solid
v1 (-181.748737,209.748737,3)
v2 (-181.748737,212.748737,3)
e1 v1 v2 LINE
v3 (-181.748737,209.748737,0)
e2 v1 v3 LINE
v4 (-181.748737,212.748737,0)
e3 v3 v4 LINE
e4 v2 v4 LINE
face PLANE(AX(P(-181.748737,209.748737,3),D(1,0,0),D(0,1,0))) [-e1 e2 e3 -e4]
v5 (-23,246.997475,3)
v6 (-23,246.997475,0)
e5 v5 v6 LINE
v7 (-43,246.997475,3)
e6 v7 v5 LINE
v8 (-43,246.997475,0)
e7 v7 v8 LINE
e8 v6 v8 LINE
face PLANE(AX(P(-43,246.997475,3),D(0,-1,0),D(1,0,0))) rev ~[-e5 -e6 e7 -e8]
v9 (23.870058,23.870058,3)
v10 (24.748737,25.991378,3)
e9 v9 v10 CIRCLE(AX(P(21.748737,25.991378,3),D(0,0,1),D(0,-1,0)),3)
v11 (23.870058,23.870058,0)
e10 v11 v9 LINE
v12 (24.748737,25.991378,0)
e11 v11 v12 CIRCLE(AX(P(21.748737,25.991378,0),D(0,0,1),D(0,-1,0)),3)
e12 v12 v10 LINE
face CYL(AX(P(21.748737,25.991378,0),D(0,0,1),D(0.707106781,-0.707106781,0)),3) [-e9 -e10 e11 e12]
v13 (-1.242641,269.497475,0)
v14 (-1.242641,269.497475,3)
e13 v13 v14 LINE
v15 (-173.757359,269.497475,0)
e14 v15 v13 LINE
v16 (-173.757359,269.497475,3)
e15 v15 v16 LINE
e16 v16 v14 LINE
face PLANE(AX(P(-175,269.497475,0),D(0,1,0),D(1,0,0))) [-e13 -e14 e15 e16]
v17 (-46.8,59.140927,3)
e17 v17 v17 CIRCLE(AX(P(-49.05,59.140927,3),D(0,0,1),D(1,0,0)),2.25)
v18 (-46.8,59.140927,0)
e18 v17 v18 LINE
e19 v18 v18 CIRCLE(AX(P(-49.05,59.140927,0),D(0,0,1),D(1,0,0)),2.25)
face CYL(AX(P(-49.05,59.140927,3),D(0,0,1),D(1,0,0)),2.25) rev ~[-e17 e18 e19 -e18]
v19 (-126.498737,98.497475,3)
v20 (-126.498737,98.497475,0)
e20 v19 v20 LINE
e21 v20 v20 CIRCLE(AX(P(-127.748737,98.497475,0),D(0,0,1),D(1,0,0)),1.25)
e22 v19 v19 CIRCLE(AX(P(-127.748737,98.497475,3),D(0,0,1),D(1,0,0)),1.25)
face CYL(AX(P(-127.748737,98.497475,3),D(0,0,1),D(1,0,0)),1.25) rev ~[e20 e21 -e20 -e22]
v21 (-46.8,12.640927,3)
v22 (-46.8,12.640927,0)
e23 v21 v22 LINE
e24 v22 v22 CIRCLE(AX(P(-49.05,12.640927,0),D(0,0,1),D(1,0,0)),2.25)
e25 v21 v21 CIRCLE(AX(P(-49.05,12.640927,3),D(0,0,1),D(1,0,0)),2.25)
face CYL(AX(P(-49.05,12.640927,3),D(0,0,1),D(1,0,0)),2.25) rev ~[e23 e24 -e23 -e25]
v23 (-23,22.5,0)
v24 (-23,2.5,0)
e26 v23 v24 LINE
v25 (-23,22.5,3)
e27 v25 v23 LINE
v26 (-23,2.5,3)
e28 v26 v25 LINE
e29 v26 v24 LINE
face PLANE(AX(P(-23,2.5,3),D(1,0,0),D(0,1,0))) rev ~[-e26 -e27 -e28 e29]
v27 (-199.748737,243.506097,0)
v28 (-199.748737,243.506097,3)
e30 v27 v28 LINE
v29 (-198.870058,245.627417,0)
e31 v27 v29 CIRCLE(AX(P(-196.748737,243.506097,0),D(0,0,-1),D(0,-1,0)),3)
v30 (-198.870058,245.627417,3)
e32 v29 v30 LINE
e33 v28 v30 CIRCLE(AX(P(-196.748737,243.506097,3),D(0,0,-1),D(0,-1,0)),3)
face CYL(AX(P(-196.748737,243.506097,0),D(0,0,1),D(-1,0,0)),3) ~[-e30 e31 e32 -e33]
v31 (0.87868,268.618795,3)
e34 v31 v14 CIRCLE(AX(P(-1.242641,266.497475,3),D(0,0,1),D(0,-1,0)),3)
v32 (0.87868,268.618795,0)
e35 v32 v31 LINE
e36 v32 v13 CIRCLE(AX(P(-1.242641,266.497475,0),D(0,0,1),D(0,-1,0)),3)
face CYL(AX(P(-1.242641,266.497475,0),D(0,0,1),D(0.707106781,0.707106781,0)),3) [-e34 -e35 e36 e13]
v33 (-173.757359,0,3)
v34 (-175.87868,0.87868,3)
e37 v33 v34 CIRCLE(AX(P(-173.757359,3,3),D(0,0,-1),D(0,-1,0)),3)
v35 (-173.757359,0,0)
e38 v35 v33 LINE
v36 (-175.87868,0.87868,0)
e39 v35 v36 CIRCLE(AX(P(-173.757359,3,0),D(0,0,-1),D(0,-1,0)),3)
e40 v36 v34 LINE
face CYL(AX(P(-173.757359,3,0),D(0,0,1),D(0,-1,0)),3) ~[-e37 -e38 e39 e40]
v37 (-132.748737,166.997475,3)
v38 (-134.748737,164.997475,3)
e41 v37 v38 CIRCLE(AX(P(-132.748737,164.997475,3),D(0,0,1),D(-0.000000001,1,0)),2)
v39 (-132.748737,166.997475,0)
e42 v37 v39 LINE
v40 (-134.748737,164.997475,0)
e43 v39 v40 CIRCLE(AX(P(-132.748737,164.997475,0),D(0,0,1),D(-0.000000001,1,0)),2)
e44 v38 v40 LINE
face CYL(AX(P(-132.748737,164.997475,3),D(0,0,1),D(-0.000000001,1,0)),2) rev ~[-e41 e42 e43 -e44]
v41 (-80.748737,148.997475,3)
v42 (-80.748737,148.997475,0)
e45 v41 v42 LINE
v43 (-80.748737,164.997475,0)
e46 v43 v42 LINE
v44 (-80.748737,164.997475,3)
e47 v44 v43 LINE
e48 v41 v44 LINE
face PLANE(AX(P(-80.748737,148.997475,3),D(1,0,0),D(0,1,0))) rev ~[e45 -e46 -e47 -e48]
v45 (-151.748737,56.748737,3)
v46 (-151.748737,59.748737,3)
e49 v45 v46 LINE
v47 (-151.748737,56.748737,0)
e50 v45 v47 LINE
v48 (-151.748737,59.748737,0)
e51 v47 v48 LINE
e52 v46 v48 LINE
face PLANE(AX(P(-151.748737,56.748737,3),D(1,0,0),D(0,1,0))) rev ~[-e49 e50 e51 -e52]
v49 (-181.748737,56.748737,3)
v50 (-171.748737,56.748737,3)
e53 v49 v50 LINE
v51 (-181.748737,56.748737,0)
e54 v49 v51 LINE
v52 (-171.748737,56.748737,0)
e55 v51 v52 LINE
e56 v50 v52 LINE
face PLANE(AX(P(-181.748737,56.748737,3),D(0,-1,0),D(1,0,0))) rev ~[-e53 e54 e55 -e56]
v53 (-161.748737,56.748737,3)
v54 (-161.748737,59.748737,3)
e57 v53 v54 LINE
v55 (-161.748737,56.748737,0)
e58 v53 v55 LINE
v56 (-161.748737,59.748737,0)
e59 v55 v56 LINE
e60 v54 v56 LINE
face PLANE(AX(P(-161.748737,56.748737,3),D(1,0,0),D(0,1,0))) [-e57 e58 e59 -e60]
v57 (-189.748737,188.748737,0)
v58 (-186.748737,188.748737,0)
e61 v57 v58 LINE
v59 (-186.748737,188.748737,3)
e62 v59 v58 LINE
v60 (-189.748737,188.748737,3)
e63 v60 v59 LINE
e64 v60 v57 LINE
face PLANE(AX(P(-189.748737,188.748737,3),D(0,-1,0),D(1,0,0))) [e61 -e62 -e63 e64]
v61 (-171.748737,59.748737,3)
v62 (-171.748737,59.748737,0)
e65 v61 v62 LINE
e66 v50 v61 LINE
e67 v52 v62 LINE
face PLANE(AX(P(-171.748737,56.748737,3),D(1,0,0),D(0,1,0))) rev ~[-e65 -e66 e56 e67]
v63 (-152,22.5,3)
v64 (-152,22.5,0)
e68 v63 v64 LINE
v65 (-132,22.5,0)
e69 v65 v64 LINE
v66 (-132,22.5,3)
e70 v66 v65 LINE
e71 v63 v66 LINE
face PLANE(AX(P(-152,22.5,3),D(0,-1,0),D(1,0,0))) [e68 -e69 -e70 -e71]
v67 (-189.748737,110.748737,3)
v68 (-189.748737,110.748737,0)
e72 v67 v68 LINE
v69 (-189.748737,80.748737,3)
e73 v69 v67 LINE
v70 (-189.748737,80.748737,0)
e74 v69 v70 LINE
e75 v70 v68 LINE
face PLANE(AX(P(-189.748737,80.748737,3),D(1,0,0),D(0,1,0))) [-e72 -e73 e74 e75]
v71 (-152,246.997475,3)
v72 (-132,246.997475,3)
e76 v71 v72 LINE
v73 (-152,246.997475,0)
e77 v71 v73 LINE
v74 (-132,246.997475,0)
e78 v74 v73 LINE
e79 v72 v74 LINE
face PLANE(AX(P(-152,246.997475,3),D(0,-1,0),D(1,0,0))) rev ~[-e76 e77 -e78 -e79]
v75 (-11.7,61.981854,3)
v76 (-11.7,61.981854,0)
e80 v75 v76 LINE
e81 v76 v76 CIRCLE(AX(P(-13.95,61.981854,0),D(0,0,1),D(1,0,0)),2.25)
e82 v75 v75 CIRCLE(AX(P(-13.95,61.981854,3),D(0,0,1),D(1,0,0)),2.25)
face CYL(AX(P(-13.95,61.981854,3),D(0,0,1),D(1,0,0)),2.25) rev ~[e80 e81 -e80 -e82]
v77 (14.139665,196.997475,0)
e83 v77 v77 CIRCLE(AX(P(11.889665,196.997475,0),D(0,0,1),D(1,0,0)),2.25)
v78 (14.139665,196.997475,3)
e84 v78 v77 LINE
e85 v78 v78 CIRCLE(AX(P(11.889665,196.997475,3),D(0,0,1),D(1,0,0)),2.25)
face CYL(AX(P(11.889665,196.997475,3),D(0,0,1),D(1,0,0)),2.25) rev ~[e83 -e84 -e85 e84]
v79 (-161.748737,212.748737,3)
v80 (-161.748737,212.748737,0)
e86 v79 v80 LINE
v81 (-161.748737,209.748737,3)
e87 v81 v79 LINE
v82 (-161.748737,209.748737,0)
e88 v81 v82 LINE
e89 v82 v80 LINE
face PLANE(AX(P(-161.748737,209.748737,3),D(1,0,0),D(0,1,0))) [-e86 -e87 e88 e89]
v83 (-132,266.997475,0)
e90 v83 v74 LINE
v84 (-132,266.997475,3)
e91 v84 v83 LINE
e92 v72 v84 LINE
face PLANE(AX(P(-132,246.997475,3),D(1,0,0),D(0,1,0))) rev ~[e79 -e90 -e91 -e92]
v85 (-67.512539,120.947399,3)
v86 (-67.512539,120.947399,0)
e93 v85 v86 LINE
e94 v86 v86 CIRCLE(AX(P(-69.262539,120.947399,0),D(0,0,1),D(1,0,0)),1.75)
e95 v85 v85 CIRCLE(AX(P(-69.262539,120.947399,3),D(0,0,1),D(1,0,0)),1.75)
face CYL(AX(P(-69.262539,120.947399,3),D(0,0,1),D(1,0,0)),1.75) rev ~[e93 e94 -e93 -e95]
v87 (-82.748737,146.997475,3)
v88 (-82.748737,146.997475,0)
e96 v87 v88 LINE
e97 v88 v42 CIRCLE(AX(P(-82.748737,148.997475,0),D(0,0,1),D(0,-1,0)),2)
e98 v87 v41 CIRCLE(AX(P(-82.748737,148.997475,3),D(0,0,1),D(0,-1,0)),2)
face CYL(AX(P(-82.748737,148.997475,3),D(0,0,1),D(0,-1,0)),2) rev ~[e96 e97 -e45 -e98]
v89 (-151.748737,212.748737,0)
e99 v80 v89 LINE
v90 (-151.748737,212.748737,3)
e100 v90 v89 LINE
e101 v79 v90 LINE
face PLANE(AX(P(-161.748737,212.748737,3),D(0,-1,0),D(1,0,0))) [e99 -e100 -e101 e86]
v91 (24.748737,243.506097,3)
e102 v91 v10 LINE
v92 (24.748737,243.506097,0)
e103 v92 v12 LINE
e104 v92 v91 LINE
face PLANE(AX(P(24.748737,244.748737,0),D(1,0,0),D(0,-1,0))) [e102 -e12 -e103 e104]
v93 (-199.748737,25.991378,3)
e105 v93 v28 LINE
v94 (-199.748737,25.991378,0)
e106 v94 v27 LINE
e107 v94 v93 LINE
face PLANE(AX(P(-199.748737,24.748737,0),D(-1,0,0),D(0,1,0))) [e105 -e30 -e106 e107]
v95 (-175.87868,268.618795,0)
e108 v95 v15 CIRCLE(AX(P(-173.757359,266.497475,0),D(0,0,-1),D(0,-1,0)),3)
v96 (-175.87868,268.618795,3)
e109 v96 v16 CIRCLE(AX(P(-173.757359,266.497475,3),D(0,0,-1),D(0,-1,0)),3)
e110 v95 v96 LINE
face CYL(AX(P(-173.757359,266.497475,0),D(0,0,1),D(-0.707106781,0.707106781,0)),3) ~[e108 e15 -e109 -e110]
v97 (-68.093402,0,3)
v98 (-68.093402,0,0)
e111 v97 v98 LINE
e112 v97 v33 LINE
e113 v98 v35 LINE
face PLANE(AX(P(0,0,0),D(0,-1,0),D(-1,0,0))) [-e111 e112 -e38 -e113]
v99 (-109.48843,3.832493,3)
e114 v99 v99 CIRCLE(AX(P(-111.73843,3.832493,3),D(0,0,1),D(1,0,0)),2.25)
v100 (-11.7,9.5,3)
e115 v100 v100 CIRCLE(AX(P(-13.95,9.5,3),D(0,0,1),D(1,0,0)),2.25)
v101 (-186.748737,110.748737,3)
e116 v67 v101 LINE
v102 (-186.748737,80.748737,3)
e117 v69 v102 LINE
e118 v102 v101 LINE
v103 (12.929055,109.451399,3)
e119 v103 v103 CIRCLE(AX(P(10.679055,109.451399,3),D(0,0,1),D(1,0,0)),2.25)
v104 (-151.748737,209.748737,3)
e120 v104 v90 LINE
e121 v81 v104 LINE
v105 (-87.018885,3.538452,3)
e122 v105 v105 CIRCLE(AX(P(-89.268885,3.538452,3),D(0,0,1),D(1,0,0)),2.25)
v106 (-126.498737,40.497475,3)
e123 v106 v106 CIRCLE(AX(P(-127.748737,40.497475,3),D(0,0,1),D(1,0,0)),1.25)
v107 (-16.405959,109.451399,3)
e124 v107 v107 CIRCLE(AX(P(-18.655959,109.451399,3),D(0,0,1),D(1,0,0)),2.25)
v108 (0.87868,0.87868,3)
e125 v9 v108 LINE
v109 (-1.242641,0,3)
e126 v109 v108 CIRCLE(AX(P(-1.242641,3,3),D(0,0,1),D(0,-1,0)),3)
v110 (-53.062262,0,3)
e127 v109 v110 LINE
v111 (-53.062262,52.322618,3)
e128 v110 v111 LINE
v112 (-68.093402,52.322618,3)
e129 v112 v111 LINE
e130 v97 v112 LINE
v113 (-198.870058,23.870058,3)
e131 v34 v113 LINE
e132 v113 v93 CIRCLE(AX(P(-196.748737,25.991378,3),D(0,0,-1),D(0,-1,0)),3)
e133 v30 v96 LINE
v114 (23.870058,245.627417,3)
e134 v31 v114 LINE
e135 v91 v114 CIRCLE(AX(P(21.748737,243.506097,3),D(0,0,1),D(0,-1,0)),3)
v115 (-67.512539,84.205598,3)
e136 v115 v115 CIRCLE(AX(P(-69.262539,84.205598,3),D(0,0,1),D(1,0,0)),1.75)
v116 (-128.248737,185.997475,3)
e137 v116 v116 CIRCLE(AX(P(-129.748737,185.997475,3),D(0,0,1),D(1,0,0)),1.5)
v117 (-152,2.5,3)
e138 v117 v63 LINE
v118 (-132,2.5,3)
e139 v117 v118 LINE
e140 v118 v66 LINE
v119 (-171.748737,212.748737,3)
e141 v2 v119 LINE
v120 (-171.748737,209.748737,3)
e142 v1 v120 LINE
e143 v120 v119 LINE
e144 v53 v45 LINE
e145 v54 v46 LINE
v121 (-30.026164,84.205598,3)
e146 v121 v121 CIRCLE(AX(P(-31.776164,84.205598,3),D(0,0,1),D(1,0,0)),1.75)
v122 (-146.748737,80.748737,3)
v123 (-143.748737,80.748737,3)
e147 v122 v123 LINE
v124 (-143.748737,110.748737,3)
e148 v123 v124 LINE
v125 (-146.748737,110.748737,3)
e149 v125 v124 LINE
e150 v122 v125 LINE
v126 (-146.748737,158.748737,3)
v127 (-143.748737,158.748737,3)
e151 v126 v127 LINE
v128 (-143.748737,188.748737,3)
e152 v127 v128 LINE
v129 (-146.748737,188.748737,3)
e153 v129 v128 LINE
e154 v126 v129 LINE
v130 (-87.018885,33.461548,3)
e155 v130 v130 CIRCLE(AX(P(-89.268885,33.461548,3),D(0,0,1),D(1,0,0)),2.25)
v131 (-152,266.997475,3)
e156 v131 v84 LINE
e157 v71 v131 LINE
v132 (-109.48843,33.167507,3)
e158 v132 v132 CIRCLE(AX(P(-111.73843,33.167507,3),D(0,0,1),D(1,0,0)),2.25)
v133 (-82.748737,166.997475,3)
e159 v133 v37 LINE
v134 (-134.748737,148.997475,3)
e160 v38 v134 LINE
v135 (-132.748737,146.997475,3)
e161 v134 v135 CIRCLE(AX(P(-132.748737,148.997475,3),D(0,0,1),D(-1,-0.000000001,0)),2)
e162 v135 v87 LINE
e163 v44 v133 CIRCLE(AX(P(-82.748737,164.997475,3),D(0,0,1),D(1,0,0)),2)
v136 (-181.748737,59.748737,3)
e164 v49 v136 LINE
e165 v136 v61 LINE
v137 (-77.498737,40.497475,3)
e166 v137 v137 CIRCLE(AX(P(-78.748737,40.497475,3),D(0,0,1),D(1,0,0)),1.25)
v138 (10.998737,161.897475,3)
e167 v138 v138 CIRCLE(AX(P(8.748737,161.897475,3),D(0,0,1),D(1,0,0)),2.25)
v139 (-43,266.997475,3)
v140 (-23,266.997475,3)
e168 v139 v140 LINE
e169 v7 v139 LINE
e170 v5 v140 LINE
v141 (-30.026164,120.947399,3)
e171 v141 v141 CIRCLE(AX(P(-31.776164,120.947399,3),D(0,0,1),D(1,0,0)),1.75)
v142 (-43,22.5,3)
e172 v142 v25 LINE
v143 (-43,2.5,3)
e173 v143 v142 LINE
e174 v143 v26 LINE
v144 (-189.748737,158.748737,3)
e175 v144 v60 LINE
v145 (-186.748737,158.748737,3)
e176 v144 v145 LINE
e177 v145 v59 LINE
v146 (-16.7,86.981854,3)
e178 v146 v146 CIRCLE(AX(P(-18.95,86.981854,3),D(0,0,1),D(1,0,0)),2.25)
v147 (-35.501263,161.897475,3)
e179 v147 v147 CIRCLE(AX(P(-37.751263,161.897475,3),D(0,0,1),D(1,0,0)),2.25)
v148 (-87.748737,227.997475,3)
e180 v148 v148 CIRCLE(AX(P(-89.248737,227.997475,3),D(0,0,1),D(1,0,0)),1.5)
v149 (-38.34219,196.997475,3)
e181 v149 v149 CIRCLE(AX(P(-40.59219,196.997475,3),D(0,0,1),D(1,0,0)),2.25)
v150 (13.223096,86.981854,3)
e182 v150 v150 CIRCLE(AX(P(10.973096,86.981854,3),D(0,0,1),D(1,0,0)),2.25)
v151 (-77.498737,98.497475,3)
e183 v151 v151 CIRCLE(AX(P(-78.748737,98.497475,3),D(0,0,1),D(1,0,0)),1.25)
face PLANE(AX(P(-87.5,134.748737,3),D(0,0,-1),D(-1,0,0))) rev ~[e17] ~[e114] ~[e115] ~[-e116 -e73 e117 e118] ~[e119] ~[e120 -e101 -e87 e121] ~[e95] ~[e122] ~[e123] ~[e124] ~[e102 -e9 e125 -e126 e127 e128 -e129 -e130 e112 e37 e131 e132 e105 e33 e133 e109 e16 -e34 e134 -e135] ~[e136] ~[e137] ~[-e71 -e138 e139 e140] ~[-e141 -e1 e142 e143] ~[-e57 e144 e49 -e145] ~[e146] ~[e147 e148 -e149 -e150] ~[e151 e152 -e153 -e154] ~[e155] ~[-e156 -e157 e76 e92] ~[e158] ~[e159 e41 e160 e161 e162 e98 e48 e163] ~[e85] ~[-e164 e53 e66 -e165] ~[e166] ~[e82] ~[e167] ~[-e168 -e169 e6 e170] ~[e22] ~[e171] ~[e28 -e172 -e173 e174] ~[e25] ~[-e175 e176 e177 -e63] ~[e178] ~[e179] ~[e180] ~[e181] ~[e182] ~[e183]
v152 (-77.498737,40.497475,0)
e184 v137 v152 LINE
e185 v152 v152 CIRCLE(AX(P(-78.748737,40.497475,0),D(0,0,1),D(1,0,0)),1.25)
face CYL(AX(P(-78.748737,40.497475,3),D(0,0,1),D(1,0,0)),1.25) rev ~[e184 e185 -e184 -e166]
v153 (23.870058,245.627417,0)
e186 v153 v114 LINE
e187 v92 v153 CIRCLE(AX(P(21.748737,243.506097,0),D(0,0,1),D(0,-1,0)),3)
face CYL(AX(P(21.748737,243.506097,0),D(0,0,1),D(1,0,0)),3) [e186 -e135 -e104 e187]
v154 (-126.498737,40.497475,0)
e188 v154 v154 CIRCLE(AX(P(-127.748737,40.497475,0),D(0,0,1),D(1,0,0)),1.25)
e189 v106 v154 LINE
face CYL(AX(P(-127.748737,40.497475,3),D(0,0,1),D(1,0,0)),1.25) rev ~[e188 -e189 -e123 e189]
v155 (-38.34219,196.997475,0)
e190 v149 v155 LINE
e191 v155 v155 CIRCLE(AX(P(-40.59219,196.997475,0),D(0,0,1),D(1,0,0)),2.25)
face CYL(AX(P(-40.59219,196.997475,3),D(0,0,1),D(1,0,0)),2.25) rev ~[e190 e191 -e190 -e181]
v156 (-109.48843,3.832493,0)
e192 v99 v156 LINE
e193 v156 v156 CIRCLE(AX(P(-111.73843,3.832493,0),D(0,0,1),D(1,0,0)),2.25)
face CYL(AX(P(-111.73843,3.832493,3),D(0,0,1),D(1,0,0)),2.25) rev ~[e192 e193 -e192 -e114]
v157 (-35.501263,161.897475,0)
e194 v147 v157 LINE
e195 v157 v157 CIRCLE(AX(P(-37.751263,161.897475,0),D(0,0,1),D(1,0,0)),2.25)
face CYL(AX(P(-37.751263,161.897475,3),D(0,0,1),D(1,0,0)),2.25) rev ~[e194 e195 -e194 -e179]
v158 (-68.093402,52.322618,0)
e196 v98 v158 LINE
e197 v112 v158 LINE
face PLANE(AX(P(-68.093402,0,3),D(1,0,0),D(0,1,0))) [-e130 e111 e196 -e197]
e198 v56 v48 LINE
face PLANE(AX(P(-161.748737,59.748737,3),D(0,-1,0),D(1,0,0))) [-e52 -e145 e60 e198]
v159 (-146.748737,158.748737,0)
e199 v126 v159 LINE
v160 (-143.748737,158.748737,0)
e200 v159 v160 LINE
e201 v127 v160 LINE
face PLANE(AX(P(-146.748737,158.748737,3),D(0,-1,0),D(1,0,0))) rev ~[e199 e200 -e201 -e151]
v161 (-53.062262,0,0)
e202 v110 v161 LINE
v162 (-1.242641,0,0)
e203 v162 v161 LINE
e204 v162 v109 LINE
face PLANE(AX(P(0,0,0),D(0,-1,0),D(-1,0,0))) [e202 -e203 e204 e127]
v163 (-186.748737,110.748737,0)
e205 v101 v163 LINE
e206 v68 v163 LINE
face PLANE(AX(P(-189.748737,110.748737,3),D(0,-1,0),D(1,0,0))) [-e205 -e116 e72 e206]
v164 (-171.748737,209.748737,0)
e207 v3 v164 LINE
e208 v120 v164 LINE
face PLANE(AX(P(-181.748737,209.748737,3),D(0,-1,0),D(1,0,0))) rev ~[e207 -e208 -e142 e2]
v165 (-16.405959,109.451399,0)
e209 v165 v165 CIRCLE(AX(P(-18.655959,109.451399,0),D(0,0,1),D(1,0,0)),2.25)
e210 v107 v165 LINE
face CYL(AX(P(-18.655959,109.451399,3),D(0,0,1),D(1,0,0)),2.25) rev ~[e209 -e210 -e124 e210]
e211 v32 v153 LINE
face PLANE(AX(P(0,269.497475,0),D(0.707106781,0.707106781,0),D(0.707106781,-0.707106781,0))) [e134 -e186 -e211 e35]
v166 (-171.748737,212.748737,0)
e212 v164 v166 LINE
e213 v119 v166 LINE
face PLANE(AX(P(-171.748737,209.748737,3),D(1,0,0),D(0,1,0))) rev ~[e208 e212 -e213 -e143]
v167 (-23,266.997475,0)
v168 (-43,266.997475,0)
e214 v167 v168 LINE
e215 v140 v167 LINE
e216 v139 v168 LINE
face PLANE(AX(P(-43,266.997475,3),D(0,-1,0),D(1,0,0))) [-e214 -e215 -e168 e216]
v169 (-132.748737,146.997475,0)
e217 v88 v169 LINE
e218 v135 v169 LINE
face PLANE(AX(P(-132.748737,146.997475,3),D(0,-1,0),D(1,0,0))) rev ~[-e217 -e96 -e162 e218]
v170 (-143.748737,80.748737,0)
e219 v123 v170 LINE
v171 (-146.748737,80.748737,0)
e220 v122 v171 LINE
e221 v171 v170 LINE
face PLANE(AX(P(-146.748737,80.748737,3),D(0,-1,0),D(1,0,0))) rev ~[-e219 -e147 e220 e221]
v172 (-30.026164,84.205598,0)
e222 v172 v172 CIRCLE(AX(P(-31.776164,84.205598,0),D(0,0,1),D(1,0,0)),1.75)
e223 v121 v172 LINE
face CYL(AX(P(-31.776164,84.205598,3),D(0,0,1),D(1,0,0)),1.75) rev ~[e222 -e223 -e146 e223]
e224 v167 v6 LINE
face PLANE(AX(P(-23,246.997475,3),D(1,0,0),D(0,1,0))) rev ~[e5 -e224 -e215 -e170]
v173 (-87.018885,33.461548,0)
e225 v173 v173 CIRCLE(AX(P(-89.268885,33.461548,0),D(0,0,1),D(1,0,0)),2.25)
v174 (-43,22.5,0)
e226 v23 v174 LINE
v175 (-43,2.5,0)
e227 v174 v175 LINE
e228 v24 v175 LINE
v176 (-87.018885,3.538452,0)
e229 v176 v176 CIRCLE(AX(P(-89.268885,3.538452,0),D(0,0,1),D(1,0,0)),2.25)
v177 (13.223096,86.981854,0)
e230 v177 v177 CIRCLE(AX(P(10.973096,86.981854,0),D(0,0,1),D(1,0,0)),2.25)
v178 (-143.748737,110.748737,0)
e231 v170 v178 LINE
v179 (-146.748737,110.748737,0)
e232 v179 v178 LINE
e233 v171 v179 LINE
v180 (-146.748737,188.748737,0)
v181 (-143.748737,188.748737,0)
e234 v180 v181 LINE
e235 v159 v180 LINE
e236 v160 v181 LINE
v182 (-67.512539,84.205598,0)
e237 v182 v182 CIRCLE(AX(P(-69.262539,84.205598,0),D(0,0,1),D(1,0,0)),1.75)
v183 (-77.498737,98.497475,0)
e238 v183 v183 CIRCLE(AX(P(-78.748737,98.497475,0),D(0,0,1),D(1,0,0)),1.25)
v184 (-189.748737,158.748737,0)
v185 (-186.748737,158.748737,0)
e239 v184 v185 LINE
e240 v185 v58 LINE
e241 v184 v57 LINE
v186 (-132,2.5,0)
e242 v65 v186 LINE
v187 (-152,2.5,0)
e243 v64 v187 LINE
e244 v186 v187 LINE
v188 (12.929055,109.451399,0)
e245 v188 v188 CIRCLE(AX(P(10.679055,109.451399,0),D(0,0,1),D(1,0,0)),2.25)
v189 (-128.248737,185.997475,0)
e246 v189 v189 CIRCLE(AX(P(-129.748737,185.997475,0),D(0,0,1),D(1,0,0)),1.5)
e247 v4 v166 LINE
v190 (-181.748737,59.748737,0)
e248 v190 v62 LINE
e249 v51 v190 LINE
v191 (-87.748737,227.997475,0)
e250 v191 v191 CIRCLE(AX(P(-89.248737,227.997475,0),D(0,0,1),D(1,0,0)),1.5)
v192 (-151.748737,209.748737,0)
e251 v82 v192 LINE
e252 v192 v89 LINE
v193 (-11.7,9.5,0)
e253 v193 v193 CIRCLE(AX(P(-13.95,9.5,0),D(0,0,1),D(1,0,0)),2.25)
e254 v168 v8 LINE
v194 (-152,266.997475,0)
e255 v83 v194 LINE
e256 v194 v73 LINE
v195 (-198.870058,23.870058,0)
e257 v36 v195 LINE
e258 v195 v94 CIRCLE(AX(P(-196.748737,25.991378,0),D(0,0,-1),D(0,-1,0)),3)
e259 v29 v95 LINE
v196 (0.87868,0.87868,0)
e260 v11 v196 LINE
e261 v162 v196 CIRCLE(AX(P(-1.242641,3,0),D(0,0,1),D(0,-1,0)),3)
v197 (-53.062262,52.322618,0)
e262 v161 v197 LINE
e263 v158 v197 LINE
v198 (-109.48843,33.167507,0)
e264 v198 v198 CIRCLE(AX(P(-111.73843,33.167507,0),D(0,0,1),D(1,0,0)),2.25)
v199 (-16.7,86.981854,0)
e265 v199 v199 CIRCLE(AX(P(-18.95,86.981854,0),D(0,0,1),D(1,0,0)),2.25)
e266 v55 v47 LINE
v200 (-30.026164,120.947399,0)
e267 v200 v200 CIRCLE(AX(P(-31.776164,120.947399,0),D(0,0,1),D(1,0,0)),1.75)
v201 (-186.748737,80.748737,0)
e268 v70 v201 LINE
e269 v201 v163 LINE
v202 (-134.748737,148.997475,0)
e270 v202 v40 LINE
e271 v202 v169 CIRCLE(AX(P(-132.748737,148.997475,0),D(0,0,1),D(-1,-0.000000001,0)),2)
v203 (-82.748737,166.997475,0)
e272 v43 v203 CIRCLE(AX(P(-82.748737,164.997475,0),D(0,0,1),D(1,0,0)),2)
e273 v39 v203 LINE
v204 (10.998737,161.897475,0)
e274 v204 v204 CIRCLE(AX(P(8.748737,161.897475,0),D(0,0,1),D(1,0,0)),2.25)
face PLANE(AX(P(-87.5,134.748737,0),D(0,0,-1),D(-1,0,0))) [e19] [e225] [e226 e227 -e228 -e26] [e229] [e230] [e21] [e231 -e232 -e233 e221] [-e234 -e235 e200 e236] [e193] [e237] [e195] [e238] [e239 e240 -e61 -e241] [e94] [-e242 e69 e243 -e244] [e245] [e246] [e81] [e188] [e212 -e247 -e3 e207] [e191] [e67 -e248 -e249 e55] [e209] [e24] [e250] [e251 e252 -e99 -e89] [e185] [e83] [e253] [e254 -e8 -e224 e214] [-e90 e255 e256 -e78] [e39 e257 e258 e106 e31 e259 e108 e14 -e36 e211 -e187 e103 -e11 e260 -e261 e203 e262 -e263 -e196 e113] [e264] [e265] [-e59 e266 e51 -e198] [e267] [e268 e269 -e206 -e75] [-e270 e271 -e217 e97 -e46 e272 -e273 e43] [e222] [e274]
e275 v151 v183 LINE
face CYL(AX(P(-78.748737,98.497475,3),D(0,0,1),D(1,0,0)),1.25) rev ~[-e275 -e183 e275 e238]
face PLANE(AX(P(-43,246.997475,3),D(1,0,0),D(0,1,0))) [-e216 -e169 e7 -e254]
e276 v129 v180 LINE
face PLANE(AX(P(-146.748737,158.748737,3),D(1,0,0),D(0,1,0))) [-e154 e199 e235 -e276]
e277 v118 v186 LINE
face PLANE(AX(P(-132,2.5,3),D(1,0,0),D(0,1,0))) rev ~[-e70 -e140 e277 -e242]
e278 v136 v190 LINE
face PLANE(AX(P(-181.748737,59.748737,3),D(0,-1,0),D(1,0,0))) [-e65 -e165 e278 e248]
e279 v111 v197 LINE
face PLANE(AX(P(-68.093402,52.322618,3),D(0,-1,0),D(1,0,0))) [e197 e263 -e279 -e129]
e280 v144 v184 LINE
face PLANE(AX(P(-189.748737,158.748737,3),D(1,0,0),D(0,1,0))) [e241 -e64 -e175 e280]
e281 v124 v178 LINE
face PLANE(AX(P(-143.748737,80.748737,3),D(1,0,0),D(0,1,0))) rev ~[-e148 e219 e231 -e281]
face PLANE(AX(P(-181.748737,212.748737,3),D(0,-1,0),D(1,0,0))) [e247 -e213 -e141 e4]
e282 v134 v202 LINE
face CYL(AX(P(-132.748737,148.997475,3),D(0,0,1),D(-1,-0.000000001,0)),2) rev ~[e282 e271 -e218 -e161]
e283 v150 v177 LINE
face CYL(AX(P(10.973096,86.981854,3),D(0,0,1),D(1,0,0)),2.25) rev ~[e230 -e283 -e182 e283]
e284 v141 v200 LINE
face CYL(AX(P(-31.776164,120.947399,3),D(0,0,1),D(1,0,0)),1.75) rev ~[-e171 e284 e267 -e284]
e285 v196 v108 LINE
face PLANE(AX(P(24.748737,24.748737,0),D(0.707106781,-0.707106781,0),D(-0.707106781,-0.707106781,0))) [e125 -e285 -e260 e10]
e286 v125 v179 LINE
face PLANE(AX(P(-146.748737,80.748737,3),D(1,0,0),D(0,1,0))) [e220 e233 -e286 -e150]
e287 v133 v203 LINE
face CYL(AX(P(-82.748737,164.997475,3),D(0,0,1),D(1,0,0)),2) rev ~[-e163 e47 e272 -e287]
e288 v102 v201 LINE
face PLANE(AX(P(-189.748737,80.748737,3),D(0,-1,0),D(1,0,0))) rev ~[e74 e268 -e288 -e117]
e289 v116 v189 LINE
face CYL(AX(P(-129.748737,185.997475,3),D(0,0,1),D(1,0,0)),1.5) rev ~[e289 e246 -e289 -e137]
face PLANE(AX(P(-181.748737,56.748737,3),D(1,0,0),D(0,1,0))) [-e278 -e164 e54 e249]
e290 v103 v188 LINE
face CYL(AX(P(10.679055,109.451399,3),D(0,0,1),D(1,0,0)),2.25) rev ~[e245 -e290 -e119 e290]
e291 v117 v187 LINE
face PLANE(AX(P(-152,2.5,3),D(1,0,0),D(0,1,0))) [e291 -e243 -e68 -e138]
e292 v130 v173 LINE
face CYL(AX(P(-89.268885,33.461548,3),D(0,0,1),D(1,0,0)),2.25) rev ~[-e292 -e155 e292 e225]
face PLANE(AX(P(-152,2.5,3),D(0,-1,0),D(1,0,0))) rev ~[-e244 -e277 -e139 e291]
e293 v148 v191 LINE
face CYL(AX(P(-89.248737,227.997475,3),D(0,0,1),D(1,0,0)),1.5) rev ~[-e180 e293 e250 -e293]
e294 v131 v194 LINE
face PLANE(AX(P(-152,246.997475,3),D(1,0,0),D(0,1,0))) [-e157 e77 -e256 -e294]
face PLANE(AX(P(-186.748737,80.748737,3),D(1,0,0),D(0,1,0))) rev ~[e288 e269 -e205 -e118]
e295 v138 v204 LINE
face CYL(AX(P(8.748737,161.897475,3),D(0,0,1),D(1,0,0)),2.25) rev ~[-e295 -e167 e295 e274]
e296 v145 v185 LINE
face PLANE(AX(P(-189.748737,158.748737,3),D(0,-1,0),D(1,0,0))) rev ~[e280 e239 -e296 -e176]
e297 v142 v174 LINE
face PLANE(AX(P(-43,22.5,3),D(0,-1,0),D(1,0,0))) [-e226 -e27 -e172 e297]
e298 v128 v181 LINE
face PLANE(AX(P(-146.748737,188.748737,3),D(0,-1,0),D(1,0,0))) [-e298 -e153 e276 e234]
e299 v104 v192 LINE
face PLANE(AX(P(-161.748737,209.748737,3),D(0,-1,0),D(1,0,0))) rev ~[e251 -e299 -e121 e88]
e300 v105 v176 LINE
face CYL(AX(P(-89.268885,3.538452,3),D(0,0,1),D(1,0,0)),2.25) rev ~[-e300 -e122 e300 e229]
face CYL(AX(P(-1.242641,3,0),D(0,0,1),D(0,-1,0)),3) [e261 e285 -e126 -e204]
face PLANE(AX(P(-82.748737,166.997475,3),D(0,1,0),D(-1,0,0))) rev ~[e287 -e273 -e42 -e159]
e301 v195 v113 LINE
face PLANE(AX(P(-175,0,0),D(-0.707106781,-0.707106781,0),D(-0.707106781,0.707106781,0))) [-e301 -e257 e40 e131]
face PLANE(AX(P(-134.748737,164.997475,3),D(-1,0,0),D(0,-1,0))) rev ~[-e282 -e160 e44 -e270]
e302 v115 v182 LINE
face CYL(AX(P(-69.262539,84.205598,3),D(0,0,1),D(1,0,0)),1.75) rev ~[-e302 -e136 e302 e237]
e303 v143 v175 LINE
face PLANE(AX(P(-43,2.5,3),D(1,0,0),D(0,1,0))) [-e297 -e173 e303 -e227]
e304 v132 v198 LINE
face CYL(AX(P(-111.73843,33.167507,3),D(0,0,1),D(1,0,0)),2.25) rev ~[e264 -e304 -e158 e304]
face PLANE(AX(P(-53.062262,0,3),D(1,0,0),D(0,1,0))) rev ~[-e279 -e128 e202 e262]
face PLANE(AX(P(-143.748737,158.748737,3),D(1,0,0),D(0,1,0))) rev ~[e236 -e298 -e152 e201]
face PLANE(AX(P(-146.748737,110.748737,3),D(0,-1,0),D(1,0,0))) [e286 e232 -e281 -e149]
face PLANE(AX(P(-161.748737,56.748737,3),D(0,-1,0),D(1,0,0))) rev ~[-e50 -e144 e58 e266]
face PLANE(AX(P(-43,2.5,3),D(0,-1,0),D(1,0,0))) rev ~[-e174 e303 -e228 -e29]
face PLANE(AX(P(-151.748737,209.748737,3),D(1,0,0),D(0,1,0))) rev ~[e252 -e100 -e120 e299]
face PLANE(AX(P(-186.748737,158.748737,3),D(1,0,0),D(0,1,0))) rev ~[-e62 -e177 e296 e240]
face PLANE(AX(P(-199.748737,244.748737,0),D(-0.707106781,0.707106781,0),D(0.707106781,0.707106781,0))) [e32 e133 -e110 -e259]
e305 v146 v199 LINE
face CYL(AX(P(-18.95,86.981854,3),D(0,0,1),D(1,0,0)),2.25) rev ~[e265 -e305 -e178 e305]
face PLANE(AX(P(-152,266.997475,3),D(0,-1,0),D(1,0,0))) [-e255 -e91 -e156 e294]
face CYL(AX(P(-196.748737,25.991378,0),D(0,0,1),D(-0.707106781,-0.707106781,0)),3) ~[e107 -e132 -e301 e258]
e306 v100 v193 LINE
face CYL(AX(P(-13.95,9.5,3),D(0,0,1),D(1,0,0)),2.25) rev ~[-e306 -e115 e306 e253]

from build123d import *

# Parameters (mm, degrees)
BASE_DEPTH              = 3
ESQUISSE2_W             = 20
ESQUISSE2_H             = 20
ENL_V_MAT_EXTRU_1_DEPTH = 4
CONG_1_R                = 3
ESQUISSE4_R             = 1.25
ESQUISSE4_R_2           = 1.5
ENL_V_MAT_EXTRU_4_DEPTH = 4
ENL_V_MAT_EXTRU_5_REACH = 5
ESQUISSE5_R             = 2.25
ESQUISSE5_W             = 15.031140496
ESQUISSE5_H             = 52.322618027
PONT_H_MAL_PLACE_2_R    = 1.75
PONT_H_MAL_PLACE_DEPTH  = 3
ESQUISSE10_W            = 10
ESQUISSE10_H            = 3
ESQUISSE10_W_2          = 3
ESQUISSE10_H_2          = 30
ENL_V_MAT_EXTRU_7_DEPTH = 3


with BuildPart() as part:
    # Esquisse1 → Base (new body)
    with BuildSketch(Plane.XY):
        Polygon((0, 0), (-175, 0), (-199.748737342, 24.748737342), (-199.748737342, 244.748737342), (-175, 269.497474683), (0, 269.497474683), (24.748737342, 244.748737342), (24.748737342, 24.748737342), align=None)
    extrude(amount=BASE_DEPTH)

    # Esquisse2 → Enlèv. mat.-Extru.1 (cut, through all)
    with BuildSketch(Plane.XY.offset(3)):
        with Locations((-142, 256.997474683)):
            Rectangle(ESQUISSE2_W, ESQUISSE2_H)
        with Locations((-142, 12.5)):
            Rectangle(ESQUISSE2_W, ESQUISSE2_H)
        with Locations((-33, 12.5)):
            Rectangle(ESQUISSE2_W, ESQUISSE2_H)
        with Locations((-33, 256.997474683)):
            Rectangle(ESQUISSE2_W, ESQUISSE2_H)
    extrude(amount=-ENL_V_MAT_EXTRU_1_DEPTH, mode=Mode.SUBTRACT)

    # Congé1
    cong_1_edges = [part.edges().sort_by_distance(p)[0] for p in [
        (0, 0, 1.5),
        (-175, 0, 1.5),
        (-199.748737342, 24.748737342, 1.5),
        (-199.748737342, 244.748737342, 1.5),
        (-175, 269.497474683, 1.5),
        (0, 269.497474683, 1.5),
        (24.748737342, 244.748737342, 1.5),
        (24.748737342, 24.748737342, 1.5),
    ]]
    fillet(cong_1_edges, radius=CONG_1_R)

    # Esquisse4 → Enlèv. mat.-Extru.4 (cut, through all)
    with BuildSketch(Plane.XY.offset(3)):
        with Locations((-78.748737342, 98.497474683)):
            Circle(ESQUISSE4_R)
        with Locations((-127.748737342, 98.497474683)):
            Circle(ESQUISSE4_R)
        with Locations((-78.748737342, 40.497474683)):
            Circle(ESQUISSE4_R)
        with Locations((-127.748737342, 40.497474683)):
            Circle(ESQUISSE4_R)
        with Locations((-129.748737342, 185.997474683)):
            Circle(ESQUISSE4_R_2)
        with Locations((-89.248737342, 227.997474683)):
            Circle(ESQUISSE4_R_2)
        with BuildLine():
            Line((-82.748737342, 166.997474683), (-132.748737342, 166.997474683))
            ThreePointArc((-132.748737342, 166.997474683), (-134.162950904, 166.411688245), (-134.748737342, 164.997474683))
            Line((-134.748737342, 164.997474683), (-134.748737342, 148.997474683))
            ThreePointArc((-134.748737342, 148.997474683), (-134.162950904, 147.583261121), (-132.748737342, 146.997474683))
            Line((-132.748737342, 146.997474683), (-82.748737342, 146.997474683))
            ThreePointArc((-82.748737342, 146.997474683), (-81.334523779, 147.583261121), (-80.748737342, 148.997474683))
            Line((-80.748737342, 148.997474683), (-80.748737342, 164.997474683))
            ThreePointArc((-80.748737342, 164.997474683), (-81.334523779, 166.411688245), (-82.748737342, 166.997474683))
        make_face()
    extrude(amount=-ENL_V_MAT_EXTRU_4_DEPTH, mode=Mode.SUBTRACT)

    # Esquisse5 → Enlèv. mat.-Extru.5 (cut, up to next)
    with BuildSketch(Plane.XY.offset(3), mode=Mode.PRIVATE) as enl_v_mat_extru_5_sk1:
        with Locations((-111.738429941, 3.832493236)):
            Circle(ESQUISSE5_R)
    enl_v_mat_extru_5_tool1 = extrude(enl_v_mat_extru_5_sk1.sketch, amount=-ENL_V_MAT_EXTRU_5_REACH, mode=Mode.PRIVATE) & part.part
    add(enl_v_mat_extru_5_tool1.solids().sort_by_distance((-111.73843, 3.832493, 3))[0], mode=Mode.SUBTRACT)
    # Esquisse5 → Enlèv. mat.-Extru.5 (cut, up to next)
    with BuildSketch(Plane.XY.offset(3), mode=Mode.PRIVATE) as enl_v_mat_extru_5_sk2:
        with Locations((-89.268885084, 3.53845203)):
            Circle(ESQUISSE5_R)
    enl_v_mat_extru_5_tool2 = extrude(enl_v_mat_extru_5_sk2.sketch, amount=-ENL_V_MAT_EXTRU_5_REACH, mode=Mode.PRIVATE) & part.part
    add(enl_v_mat_extru_5_tool2.solids().sort_by_distance((-89.268885, 3.538452, 3))[0], mode=Mode.SUBTRACT)
    # Esquisse5 → Enlèv. mat.-Extru.5 (cut, up to next)
    with BuildSketch(Plane.XY.offset(3), mode=Mode.PRIVATE) as enl_v_mat_extru_5_sk3:
        with Locations((-89.268885084, 33.46154797)):
            Circle(ESQUISSE5_R)
    enl_v_mat_extru_5_tool3 = extrude(enl_v_mat_extru_5_sk3.sketch, amount=-ENL_V_MAT_EXTRU_5_REACH, mode=Mode.PRIVATE) & part.part
    add(enl_v_mat_extru_5_tool3.solids().sort_by_distance((-89.268885, 33.461548, 3))[0], mode=Mode.SUBTRACT)
    # Esquisse5 → Enlèv. mat.-Extru.5 (cut, up to next)
    with BuildSketch(Plane.XY.offset(3), mode=Mode.PRIVATE) as enl_v_mat_extru_5_sk4:
        with Locations((-111.738429941, 33.167506764)):
            Circle(ESQUISSE5_R)
    enl_v_mat_extru_5_tool4 = extrude(enl_v_mat_extru_5_sk4.sketch, amount=-ENL_V_MAT_EXTRU_5_REACH, mode=Mode.PRIVATE) & part.part
    add(enl_v_mat_extru_5_tool4.solids().sort_by_distance((-111.73843, 33.167507, 3))[0], mode=Mode.SUBTRACT)
    # Esquisse5 → Enlèv. mat.-Extru.5 (cut, up to next)
    with BuildSketch(Plane.XY.offset(3), mode=Mode.PRIVATE) as enl_v_mat_extru_5_sk5:
        with Locations((-49.05, 12.640927164)):
            Circle(ESQUISSE5_R)
    enl_v_mat_extru_5_tool5 = extrude(enl_v_mat_extru_5_sk5.sketch, amount=-ENL_V_MAT_EXTRU_5_REACH, mode=Mode.PRIVATE) & part.part
    add(enl_v_mat_extru_5_tool5.solids().sort_by_distance((-49.05, 12.640927, 3))[0], mode=Mode.SUBTRACT)
    # Esquisse5 → Enlèv. mat.-Extru.5 (cut, up to next)
    with BuildSketch(Plane.XY.offset(3), mode=Mode.PRIVATE) as enl_v_mat_extru_5_sk6:
        with Locations((-13.95, 9.5)):
            Circle(ESQUISSE5_R)
    enl_v_mat_extru_5_tool6 = extrude(enl_v_mat_extru_5_sk6.sketch, amount=-ENL_V_MAT_EXTRU_5_REACH, mode=Mode.PRIVATE) & part.part
    add(enl_v_mat_extru_5_tool6.solids().sort_by_distance((-13.95, 9.5, 3))[0], mode=Mode.SUBTRACT)
    # Esquisse5 → Enlèv. mat.-Extru.5 (cut, up to next)
    with BuildSketch(Plane.XY.offset(3), mode=Mode.PRIVATE) as enl_v_mat_extru_5_sk7:
        with Locations((-49.05, 59.140927164)):
            Circle(ESQUISSE5_R)
    enl_v_mat_extru_5_tool7 = extrude(enl_v_mat_extru_5_sk7.sketch, amount=-ENL_V_MAT_EXTRU_5_REACH, mode=Mode.PRIVATE) & part.part
    add(enl_v_mat_extru_5_tool7.solids().sort_by_distance((-49.05, 59.140927, 3))[0], mode=Mode.SUBTRACT)
    # Esquisse5 → Enlèv. mat.-Extru.5 (cut, up to next)
    with BuildSketch(Plane.XY.offset(3), mode=Mode.PRIVATE) as enl_v_mat_extru_5_sk8:
        with Locations((-13.95, 61.981854328)):
            Circle(ESQUISSE5_R)
    enl_v_mat_extru_5_tool8 = extrude(enl_v_mat_extru_5_sk8.sketch, amount=-ENL_V_MAT_EXTRU_5_REACH, mode=Mode.PRIVATE) & part.part
    add(enl_v_mat_extru_5_tool8.solids().sort_by_distance((-13.95, 61.981854, 3))[0], mode=Mode.SUBTRACT)
    # Esquisse5 → Enlèv. mat.-Extru.5 (cut, up to next)
    with BuildSketch(Plane.XY.offset(3), mode=Mode.PRIVATE) as enl_v_mat_extru_5_sk9:
        with Locations((8.748737342, 161.897474683)):
            Circle(ESQUISSE5_R)
    enl_v_mat_extru_5_tool9 = extrude(enl_v_mat_extru_5_sk9.sketch, amount=-ENL_V_MAT_EXTRU_5_REACH, mode=Mode.PRIVATE) & part.part
    add(enl_v_mat_extru_5_tool9.solids().sort_by_distance((8.748737, 161.897475, 3))[0], mode=Mode.SUBTRACT)
    # Esquisse5 → Enlèv. mat.-Extru.5 (cut, up to next)
    with BuildSketch(Plane.XY.offset(3), mode=Mode.PRIVATE) as enl_v_mat_extru_5_sk10:
        with Locations((11.889664506, 196.997474683)):
            Circle(ESQUISSE5_R)
    enl_v_mat_extru_5_tool10 = extrude(enl_v_mat_extru_5_sk10.sketch, amount=-ENL_V_MAT_EXTRU_5_REACH, mode=Mode.PRIVATE) & part.part
    add(enl_v_mat_extru_5_tool10.solids().sort_by_distance((11.889665, 196.997475, 3))[0], mode=Mode.SUBTRACT)
    # Esquisse5 → Enlèv. mat.-Extru.5 (cut, up to next)
    with BuildSketch(Plane.XY.offset(3), mode=Mode.PRIVATE) as enl_v_mat_extru_5_sk11:
        with Locations((-37.751262658, 161.897474683)):
            Circle(ESQUISSE5_R)
    enl_v_mat_extru_5_tool11 = extrude(enl_v_mat_extru_5_sk11.sketch, amount=-ENL_V_MAT_EXTRU_5_REACH, mode=Mode.PRIVATE) & part.part
    add(enl_v_mat_extru_5_tool11.solids().sort_by_distance((-37.751263, 161.897475, 3))[0], mode=Mode.SUBTRACT)
    # Esquisse5 → Enlèv. mat.-Extru.5 (cut, up to next)
    with BuildSketch(Plane.XY.offset(3), mode=Mode.PRIVATE) as enl_v_mat_extru_5_sk12:
        with Locations((-40.592189823, 196.997474683)):
            Circle(ESQUISSE5_R)
    enl_v_mat_extru_5_tool12 = extrude(enl_v_mat_extru_5_sk12.sketch, amount=-ENL_V_MAT_EXTRU_5_REACH, mode=Mode.PRIVATE) & part.part
    add(enl_v_mat_extru_5_tool12.solids().sort_by_distance((-40.59219, 196.997475, 3))[0], mode=Mode.SUBTRACT)
    # Esquisse5 → Enlèv. mat.-Extru.5 (cut, up to next)
    with BuildSketch(Plane.XY.offset(3), mode=Mode.PRIVATE) as enl_v_mat_extru_5_sk13:
        with Locations((-18.655958793, 109.451399186)):
            Circle(ESQUISSE5_R)
    enl_v_mat_extru_5_tool13 = extrude(enl_v_mat_extru_5_sk13.sketch, amount=-ENL_V_MAT_EXTRU_5_REACH, mode=Mode.PRIVATE) & part.part
    add(enl_v_mat_extru_5_tool13.solids().sort_by_distance((-18.655959, 109.451399, 3))[0], mode=Mode.SUBTRACT)
    # Esquisse5 → Enlèv. mat.-Extru.5 (cut, up to next)
    with BuildSketch(Plane.XY.offset(3), mode=Mode.PRIVATE) as enl_v_mat_extru_5_sk14:
        with Locations((-18.95, 86.981854328)):
            Circle(ESQUISSE5_R)
    enl_v_mat_extru_5_tool14 = extrude(enl_v_mat_extru_5_sk14.sketch, amount=-ENL_V_MAT_EXTRU_5_REACH, mode=Mode.PRIVATE) & part.part
    add(enl_v_mat_extru_5_tool14.solids().sort_by_distance((-18.95, 86.981854, 3))[0], mode=Mode.SUBTRACT)
    # Esquisse5 → Enlèv. mat.-Extru.5 (cut, up to next)
    with BuildSketch(Plane.XY.offset(3), mode=Mode.PRIVATE) as enl_v_mat_extru_5_sk15:
        with Locations((10.973095941, 86.981854328)):
            Circle(ESQUISSE5_R)
    enl_v_mat_extru_5_tool15 = extrude(enl_v_mat_extru_5_sk15.sketch, amount=-ENL_V_MAT_EXTRU_5_REACH, mode=Mode.PRIVATE) & part.part
    add(enl_v_mat_extru_5_tool15.solids().sort_by_distance((10.973096, 86.981854, 3))[0], mode=Mode.SUBTRACT)
    # Esquisse5 → Enlèv. mat.-Extru.5 (cut, up to next)
    with BuildSketch(Plane.XY.offset(3), mode=Mode.PRIVATE) as enl_v_mat_extru_5_sk16:
        with Locations((10.679054734, 109.451399186)):
            Circle(ESQUISSE5_R)
    enl_v_mat_extru_5_tool16 = extrude(enl_v_mat_extru_5_sk16.sketch, amount=-ENL_V_MAT_EXTRU_5_REACH, mode=Mode.PRIVATE) & part.part
    add(enl_v_mat_extru_5_tool16.solids().sort_by_distance((10.679055, 109.451399, 3))[0], mode=Mode.SUBTRACT)
    # Esquisse5 → Enlèv. mat.-Extru.5 (cut, up to next)
    with BuildSketch(Plane.XY.offset(3), mode=Mode.PRIVATE) as enl_v_mat_extru_5_sk17:
        with Locations((-60.577832016, 26.161309014)):
            Rectangle(ESQUISSE5_W, ESQUISSE5_H)
    enl_v_mat_extru_5_tool17 = extrude(enl_v_mat_extru_5_sk17.sketch, amount=-ENL_V_MAT_EXTRU_5_REACH, mode=Mode.PRIVATE) & part.part
    add(enl_v_mat_extru_5_tool17.solids().sort_by_distance((-60.577832, 26.161309, 3))[0], mode=Mode.SUBTRACT)

    # PONT H mal place 2 → pont_H_mal_place (cut)
    with BuildSketch(Plane.XY.offset(3)):
        with Locations((-69.262539319, 120.947398703)):
            Circle(PONT_H_MAL_PLACE_2_R)
        with Locations((-69.262539319, 84.205598383)):
            Circle(PONT_H_MAL_PLACE_2_R)
        with Locations((-31.776164099, 84.205598383)):
            Circle(PONT_H_MAL_PLACE_2_R)
        with Locations((-31.776164099, 120.947398703)):
            Circle(PONT_H_MAL_PLACE_2_R)
    extrude(amount=-PONT_H_MAL_PLACE_DEPTH, mode=Mode.SUBTRACT)

    # Esquisse10 → Enlèv. mat.-Extru.7 (cut)
    with BuildSketch(Plane.XY.offset(3)):
        with Locations((-176.748737342, 58.248737342)):
            Rectangle(ESQUISSE10_W, ESQUISSE10_H)
        with Locations((-188.248737342, 95.748737342)):
            Rectangle(ESQUISSE10_W_2, ESQUISSE10_H_2)
        with Locations((-156.748737342, 58.248737342)):
            Rectangle(ESQUISSE10_W, ESQUISSE10_H)
        with Locations((-145.248737342, 95.748737342)):
            Rectangle(ESQUISSE10_W_2, ESQUISSE10_H_2)
        with Locations((-188.248737342, 173.748737342)):
            Rectangle(ESQUISSE10_W_2, ESQUISSE10_H_2)
        with Locations((-156.748737342, 211.248737342)):
            Rectangle(ESQUISSE10_W, ESQUISSE10_H)
        with Locations((-176.748737342, 211.248737342)):
            Rectangle(ESQUISSE10_W, ESQUISSE10_H)
        with Locations((-145.248737342, 173.748737342)):
            Rectangle(ESQUISSE10_W_2, ESQUISSE10_H_2)
    extrude(amount=-ENL_V_MAT_EXTRU_7_DEPTH, mode=Mode.SUBTRACT)


solid = part.part
